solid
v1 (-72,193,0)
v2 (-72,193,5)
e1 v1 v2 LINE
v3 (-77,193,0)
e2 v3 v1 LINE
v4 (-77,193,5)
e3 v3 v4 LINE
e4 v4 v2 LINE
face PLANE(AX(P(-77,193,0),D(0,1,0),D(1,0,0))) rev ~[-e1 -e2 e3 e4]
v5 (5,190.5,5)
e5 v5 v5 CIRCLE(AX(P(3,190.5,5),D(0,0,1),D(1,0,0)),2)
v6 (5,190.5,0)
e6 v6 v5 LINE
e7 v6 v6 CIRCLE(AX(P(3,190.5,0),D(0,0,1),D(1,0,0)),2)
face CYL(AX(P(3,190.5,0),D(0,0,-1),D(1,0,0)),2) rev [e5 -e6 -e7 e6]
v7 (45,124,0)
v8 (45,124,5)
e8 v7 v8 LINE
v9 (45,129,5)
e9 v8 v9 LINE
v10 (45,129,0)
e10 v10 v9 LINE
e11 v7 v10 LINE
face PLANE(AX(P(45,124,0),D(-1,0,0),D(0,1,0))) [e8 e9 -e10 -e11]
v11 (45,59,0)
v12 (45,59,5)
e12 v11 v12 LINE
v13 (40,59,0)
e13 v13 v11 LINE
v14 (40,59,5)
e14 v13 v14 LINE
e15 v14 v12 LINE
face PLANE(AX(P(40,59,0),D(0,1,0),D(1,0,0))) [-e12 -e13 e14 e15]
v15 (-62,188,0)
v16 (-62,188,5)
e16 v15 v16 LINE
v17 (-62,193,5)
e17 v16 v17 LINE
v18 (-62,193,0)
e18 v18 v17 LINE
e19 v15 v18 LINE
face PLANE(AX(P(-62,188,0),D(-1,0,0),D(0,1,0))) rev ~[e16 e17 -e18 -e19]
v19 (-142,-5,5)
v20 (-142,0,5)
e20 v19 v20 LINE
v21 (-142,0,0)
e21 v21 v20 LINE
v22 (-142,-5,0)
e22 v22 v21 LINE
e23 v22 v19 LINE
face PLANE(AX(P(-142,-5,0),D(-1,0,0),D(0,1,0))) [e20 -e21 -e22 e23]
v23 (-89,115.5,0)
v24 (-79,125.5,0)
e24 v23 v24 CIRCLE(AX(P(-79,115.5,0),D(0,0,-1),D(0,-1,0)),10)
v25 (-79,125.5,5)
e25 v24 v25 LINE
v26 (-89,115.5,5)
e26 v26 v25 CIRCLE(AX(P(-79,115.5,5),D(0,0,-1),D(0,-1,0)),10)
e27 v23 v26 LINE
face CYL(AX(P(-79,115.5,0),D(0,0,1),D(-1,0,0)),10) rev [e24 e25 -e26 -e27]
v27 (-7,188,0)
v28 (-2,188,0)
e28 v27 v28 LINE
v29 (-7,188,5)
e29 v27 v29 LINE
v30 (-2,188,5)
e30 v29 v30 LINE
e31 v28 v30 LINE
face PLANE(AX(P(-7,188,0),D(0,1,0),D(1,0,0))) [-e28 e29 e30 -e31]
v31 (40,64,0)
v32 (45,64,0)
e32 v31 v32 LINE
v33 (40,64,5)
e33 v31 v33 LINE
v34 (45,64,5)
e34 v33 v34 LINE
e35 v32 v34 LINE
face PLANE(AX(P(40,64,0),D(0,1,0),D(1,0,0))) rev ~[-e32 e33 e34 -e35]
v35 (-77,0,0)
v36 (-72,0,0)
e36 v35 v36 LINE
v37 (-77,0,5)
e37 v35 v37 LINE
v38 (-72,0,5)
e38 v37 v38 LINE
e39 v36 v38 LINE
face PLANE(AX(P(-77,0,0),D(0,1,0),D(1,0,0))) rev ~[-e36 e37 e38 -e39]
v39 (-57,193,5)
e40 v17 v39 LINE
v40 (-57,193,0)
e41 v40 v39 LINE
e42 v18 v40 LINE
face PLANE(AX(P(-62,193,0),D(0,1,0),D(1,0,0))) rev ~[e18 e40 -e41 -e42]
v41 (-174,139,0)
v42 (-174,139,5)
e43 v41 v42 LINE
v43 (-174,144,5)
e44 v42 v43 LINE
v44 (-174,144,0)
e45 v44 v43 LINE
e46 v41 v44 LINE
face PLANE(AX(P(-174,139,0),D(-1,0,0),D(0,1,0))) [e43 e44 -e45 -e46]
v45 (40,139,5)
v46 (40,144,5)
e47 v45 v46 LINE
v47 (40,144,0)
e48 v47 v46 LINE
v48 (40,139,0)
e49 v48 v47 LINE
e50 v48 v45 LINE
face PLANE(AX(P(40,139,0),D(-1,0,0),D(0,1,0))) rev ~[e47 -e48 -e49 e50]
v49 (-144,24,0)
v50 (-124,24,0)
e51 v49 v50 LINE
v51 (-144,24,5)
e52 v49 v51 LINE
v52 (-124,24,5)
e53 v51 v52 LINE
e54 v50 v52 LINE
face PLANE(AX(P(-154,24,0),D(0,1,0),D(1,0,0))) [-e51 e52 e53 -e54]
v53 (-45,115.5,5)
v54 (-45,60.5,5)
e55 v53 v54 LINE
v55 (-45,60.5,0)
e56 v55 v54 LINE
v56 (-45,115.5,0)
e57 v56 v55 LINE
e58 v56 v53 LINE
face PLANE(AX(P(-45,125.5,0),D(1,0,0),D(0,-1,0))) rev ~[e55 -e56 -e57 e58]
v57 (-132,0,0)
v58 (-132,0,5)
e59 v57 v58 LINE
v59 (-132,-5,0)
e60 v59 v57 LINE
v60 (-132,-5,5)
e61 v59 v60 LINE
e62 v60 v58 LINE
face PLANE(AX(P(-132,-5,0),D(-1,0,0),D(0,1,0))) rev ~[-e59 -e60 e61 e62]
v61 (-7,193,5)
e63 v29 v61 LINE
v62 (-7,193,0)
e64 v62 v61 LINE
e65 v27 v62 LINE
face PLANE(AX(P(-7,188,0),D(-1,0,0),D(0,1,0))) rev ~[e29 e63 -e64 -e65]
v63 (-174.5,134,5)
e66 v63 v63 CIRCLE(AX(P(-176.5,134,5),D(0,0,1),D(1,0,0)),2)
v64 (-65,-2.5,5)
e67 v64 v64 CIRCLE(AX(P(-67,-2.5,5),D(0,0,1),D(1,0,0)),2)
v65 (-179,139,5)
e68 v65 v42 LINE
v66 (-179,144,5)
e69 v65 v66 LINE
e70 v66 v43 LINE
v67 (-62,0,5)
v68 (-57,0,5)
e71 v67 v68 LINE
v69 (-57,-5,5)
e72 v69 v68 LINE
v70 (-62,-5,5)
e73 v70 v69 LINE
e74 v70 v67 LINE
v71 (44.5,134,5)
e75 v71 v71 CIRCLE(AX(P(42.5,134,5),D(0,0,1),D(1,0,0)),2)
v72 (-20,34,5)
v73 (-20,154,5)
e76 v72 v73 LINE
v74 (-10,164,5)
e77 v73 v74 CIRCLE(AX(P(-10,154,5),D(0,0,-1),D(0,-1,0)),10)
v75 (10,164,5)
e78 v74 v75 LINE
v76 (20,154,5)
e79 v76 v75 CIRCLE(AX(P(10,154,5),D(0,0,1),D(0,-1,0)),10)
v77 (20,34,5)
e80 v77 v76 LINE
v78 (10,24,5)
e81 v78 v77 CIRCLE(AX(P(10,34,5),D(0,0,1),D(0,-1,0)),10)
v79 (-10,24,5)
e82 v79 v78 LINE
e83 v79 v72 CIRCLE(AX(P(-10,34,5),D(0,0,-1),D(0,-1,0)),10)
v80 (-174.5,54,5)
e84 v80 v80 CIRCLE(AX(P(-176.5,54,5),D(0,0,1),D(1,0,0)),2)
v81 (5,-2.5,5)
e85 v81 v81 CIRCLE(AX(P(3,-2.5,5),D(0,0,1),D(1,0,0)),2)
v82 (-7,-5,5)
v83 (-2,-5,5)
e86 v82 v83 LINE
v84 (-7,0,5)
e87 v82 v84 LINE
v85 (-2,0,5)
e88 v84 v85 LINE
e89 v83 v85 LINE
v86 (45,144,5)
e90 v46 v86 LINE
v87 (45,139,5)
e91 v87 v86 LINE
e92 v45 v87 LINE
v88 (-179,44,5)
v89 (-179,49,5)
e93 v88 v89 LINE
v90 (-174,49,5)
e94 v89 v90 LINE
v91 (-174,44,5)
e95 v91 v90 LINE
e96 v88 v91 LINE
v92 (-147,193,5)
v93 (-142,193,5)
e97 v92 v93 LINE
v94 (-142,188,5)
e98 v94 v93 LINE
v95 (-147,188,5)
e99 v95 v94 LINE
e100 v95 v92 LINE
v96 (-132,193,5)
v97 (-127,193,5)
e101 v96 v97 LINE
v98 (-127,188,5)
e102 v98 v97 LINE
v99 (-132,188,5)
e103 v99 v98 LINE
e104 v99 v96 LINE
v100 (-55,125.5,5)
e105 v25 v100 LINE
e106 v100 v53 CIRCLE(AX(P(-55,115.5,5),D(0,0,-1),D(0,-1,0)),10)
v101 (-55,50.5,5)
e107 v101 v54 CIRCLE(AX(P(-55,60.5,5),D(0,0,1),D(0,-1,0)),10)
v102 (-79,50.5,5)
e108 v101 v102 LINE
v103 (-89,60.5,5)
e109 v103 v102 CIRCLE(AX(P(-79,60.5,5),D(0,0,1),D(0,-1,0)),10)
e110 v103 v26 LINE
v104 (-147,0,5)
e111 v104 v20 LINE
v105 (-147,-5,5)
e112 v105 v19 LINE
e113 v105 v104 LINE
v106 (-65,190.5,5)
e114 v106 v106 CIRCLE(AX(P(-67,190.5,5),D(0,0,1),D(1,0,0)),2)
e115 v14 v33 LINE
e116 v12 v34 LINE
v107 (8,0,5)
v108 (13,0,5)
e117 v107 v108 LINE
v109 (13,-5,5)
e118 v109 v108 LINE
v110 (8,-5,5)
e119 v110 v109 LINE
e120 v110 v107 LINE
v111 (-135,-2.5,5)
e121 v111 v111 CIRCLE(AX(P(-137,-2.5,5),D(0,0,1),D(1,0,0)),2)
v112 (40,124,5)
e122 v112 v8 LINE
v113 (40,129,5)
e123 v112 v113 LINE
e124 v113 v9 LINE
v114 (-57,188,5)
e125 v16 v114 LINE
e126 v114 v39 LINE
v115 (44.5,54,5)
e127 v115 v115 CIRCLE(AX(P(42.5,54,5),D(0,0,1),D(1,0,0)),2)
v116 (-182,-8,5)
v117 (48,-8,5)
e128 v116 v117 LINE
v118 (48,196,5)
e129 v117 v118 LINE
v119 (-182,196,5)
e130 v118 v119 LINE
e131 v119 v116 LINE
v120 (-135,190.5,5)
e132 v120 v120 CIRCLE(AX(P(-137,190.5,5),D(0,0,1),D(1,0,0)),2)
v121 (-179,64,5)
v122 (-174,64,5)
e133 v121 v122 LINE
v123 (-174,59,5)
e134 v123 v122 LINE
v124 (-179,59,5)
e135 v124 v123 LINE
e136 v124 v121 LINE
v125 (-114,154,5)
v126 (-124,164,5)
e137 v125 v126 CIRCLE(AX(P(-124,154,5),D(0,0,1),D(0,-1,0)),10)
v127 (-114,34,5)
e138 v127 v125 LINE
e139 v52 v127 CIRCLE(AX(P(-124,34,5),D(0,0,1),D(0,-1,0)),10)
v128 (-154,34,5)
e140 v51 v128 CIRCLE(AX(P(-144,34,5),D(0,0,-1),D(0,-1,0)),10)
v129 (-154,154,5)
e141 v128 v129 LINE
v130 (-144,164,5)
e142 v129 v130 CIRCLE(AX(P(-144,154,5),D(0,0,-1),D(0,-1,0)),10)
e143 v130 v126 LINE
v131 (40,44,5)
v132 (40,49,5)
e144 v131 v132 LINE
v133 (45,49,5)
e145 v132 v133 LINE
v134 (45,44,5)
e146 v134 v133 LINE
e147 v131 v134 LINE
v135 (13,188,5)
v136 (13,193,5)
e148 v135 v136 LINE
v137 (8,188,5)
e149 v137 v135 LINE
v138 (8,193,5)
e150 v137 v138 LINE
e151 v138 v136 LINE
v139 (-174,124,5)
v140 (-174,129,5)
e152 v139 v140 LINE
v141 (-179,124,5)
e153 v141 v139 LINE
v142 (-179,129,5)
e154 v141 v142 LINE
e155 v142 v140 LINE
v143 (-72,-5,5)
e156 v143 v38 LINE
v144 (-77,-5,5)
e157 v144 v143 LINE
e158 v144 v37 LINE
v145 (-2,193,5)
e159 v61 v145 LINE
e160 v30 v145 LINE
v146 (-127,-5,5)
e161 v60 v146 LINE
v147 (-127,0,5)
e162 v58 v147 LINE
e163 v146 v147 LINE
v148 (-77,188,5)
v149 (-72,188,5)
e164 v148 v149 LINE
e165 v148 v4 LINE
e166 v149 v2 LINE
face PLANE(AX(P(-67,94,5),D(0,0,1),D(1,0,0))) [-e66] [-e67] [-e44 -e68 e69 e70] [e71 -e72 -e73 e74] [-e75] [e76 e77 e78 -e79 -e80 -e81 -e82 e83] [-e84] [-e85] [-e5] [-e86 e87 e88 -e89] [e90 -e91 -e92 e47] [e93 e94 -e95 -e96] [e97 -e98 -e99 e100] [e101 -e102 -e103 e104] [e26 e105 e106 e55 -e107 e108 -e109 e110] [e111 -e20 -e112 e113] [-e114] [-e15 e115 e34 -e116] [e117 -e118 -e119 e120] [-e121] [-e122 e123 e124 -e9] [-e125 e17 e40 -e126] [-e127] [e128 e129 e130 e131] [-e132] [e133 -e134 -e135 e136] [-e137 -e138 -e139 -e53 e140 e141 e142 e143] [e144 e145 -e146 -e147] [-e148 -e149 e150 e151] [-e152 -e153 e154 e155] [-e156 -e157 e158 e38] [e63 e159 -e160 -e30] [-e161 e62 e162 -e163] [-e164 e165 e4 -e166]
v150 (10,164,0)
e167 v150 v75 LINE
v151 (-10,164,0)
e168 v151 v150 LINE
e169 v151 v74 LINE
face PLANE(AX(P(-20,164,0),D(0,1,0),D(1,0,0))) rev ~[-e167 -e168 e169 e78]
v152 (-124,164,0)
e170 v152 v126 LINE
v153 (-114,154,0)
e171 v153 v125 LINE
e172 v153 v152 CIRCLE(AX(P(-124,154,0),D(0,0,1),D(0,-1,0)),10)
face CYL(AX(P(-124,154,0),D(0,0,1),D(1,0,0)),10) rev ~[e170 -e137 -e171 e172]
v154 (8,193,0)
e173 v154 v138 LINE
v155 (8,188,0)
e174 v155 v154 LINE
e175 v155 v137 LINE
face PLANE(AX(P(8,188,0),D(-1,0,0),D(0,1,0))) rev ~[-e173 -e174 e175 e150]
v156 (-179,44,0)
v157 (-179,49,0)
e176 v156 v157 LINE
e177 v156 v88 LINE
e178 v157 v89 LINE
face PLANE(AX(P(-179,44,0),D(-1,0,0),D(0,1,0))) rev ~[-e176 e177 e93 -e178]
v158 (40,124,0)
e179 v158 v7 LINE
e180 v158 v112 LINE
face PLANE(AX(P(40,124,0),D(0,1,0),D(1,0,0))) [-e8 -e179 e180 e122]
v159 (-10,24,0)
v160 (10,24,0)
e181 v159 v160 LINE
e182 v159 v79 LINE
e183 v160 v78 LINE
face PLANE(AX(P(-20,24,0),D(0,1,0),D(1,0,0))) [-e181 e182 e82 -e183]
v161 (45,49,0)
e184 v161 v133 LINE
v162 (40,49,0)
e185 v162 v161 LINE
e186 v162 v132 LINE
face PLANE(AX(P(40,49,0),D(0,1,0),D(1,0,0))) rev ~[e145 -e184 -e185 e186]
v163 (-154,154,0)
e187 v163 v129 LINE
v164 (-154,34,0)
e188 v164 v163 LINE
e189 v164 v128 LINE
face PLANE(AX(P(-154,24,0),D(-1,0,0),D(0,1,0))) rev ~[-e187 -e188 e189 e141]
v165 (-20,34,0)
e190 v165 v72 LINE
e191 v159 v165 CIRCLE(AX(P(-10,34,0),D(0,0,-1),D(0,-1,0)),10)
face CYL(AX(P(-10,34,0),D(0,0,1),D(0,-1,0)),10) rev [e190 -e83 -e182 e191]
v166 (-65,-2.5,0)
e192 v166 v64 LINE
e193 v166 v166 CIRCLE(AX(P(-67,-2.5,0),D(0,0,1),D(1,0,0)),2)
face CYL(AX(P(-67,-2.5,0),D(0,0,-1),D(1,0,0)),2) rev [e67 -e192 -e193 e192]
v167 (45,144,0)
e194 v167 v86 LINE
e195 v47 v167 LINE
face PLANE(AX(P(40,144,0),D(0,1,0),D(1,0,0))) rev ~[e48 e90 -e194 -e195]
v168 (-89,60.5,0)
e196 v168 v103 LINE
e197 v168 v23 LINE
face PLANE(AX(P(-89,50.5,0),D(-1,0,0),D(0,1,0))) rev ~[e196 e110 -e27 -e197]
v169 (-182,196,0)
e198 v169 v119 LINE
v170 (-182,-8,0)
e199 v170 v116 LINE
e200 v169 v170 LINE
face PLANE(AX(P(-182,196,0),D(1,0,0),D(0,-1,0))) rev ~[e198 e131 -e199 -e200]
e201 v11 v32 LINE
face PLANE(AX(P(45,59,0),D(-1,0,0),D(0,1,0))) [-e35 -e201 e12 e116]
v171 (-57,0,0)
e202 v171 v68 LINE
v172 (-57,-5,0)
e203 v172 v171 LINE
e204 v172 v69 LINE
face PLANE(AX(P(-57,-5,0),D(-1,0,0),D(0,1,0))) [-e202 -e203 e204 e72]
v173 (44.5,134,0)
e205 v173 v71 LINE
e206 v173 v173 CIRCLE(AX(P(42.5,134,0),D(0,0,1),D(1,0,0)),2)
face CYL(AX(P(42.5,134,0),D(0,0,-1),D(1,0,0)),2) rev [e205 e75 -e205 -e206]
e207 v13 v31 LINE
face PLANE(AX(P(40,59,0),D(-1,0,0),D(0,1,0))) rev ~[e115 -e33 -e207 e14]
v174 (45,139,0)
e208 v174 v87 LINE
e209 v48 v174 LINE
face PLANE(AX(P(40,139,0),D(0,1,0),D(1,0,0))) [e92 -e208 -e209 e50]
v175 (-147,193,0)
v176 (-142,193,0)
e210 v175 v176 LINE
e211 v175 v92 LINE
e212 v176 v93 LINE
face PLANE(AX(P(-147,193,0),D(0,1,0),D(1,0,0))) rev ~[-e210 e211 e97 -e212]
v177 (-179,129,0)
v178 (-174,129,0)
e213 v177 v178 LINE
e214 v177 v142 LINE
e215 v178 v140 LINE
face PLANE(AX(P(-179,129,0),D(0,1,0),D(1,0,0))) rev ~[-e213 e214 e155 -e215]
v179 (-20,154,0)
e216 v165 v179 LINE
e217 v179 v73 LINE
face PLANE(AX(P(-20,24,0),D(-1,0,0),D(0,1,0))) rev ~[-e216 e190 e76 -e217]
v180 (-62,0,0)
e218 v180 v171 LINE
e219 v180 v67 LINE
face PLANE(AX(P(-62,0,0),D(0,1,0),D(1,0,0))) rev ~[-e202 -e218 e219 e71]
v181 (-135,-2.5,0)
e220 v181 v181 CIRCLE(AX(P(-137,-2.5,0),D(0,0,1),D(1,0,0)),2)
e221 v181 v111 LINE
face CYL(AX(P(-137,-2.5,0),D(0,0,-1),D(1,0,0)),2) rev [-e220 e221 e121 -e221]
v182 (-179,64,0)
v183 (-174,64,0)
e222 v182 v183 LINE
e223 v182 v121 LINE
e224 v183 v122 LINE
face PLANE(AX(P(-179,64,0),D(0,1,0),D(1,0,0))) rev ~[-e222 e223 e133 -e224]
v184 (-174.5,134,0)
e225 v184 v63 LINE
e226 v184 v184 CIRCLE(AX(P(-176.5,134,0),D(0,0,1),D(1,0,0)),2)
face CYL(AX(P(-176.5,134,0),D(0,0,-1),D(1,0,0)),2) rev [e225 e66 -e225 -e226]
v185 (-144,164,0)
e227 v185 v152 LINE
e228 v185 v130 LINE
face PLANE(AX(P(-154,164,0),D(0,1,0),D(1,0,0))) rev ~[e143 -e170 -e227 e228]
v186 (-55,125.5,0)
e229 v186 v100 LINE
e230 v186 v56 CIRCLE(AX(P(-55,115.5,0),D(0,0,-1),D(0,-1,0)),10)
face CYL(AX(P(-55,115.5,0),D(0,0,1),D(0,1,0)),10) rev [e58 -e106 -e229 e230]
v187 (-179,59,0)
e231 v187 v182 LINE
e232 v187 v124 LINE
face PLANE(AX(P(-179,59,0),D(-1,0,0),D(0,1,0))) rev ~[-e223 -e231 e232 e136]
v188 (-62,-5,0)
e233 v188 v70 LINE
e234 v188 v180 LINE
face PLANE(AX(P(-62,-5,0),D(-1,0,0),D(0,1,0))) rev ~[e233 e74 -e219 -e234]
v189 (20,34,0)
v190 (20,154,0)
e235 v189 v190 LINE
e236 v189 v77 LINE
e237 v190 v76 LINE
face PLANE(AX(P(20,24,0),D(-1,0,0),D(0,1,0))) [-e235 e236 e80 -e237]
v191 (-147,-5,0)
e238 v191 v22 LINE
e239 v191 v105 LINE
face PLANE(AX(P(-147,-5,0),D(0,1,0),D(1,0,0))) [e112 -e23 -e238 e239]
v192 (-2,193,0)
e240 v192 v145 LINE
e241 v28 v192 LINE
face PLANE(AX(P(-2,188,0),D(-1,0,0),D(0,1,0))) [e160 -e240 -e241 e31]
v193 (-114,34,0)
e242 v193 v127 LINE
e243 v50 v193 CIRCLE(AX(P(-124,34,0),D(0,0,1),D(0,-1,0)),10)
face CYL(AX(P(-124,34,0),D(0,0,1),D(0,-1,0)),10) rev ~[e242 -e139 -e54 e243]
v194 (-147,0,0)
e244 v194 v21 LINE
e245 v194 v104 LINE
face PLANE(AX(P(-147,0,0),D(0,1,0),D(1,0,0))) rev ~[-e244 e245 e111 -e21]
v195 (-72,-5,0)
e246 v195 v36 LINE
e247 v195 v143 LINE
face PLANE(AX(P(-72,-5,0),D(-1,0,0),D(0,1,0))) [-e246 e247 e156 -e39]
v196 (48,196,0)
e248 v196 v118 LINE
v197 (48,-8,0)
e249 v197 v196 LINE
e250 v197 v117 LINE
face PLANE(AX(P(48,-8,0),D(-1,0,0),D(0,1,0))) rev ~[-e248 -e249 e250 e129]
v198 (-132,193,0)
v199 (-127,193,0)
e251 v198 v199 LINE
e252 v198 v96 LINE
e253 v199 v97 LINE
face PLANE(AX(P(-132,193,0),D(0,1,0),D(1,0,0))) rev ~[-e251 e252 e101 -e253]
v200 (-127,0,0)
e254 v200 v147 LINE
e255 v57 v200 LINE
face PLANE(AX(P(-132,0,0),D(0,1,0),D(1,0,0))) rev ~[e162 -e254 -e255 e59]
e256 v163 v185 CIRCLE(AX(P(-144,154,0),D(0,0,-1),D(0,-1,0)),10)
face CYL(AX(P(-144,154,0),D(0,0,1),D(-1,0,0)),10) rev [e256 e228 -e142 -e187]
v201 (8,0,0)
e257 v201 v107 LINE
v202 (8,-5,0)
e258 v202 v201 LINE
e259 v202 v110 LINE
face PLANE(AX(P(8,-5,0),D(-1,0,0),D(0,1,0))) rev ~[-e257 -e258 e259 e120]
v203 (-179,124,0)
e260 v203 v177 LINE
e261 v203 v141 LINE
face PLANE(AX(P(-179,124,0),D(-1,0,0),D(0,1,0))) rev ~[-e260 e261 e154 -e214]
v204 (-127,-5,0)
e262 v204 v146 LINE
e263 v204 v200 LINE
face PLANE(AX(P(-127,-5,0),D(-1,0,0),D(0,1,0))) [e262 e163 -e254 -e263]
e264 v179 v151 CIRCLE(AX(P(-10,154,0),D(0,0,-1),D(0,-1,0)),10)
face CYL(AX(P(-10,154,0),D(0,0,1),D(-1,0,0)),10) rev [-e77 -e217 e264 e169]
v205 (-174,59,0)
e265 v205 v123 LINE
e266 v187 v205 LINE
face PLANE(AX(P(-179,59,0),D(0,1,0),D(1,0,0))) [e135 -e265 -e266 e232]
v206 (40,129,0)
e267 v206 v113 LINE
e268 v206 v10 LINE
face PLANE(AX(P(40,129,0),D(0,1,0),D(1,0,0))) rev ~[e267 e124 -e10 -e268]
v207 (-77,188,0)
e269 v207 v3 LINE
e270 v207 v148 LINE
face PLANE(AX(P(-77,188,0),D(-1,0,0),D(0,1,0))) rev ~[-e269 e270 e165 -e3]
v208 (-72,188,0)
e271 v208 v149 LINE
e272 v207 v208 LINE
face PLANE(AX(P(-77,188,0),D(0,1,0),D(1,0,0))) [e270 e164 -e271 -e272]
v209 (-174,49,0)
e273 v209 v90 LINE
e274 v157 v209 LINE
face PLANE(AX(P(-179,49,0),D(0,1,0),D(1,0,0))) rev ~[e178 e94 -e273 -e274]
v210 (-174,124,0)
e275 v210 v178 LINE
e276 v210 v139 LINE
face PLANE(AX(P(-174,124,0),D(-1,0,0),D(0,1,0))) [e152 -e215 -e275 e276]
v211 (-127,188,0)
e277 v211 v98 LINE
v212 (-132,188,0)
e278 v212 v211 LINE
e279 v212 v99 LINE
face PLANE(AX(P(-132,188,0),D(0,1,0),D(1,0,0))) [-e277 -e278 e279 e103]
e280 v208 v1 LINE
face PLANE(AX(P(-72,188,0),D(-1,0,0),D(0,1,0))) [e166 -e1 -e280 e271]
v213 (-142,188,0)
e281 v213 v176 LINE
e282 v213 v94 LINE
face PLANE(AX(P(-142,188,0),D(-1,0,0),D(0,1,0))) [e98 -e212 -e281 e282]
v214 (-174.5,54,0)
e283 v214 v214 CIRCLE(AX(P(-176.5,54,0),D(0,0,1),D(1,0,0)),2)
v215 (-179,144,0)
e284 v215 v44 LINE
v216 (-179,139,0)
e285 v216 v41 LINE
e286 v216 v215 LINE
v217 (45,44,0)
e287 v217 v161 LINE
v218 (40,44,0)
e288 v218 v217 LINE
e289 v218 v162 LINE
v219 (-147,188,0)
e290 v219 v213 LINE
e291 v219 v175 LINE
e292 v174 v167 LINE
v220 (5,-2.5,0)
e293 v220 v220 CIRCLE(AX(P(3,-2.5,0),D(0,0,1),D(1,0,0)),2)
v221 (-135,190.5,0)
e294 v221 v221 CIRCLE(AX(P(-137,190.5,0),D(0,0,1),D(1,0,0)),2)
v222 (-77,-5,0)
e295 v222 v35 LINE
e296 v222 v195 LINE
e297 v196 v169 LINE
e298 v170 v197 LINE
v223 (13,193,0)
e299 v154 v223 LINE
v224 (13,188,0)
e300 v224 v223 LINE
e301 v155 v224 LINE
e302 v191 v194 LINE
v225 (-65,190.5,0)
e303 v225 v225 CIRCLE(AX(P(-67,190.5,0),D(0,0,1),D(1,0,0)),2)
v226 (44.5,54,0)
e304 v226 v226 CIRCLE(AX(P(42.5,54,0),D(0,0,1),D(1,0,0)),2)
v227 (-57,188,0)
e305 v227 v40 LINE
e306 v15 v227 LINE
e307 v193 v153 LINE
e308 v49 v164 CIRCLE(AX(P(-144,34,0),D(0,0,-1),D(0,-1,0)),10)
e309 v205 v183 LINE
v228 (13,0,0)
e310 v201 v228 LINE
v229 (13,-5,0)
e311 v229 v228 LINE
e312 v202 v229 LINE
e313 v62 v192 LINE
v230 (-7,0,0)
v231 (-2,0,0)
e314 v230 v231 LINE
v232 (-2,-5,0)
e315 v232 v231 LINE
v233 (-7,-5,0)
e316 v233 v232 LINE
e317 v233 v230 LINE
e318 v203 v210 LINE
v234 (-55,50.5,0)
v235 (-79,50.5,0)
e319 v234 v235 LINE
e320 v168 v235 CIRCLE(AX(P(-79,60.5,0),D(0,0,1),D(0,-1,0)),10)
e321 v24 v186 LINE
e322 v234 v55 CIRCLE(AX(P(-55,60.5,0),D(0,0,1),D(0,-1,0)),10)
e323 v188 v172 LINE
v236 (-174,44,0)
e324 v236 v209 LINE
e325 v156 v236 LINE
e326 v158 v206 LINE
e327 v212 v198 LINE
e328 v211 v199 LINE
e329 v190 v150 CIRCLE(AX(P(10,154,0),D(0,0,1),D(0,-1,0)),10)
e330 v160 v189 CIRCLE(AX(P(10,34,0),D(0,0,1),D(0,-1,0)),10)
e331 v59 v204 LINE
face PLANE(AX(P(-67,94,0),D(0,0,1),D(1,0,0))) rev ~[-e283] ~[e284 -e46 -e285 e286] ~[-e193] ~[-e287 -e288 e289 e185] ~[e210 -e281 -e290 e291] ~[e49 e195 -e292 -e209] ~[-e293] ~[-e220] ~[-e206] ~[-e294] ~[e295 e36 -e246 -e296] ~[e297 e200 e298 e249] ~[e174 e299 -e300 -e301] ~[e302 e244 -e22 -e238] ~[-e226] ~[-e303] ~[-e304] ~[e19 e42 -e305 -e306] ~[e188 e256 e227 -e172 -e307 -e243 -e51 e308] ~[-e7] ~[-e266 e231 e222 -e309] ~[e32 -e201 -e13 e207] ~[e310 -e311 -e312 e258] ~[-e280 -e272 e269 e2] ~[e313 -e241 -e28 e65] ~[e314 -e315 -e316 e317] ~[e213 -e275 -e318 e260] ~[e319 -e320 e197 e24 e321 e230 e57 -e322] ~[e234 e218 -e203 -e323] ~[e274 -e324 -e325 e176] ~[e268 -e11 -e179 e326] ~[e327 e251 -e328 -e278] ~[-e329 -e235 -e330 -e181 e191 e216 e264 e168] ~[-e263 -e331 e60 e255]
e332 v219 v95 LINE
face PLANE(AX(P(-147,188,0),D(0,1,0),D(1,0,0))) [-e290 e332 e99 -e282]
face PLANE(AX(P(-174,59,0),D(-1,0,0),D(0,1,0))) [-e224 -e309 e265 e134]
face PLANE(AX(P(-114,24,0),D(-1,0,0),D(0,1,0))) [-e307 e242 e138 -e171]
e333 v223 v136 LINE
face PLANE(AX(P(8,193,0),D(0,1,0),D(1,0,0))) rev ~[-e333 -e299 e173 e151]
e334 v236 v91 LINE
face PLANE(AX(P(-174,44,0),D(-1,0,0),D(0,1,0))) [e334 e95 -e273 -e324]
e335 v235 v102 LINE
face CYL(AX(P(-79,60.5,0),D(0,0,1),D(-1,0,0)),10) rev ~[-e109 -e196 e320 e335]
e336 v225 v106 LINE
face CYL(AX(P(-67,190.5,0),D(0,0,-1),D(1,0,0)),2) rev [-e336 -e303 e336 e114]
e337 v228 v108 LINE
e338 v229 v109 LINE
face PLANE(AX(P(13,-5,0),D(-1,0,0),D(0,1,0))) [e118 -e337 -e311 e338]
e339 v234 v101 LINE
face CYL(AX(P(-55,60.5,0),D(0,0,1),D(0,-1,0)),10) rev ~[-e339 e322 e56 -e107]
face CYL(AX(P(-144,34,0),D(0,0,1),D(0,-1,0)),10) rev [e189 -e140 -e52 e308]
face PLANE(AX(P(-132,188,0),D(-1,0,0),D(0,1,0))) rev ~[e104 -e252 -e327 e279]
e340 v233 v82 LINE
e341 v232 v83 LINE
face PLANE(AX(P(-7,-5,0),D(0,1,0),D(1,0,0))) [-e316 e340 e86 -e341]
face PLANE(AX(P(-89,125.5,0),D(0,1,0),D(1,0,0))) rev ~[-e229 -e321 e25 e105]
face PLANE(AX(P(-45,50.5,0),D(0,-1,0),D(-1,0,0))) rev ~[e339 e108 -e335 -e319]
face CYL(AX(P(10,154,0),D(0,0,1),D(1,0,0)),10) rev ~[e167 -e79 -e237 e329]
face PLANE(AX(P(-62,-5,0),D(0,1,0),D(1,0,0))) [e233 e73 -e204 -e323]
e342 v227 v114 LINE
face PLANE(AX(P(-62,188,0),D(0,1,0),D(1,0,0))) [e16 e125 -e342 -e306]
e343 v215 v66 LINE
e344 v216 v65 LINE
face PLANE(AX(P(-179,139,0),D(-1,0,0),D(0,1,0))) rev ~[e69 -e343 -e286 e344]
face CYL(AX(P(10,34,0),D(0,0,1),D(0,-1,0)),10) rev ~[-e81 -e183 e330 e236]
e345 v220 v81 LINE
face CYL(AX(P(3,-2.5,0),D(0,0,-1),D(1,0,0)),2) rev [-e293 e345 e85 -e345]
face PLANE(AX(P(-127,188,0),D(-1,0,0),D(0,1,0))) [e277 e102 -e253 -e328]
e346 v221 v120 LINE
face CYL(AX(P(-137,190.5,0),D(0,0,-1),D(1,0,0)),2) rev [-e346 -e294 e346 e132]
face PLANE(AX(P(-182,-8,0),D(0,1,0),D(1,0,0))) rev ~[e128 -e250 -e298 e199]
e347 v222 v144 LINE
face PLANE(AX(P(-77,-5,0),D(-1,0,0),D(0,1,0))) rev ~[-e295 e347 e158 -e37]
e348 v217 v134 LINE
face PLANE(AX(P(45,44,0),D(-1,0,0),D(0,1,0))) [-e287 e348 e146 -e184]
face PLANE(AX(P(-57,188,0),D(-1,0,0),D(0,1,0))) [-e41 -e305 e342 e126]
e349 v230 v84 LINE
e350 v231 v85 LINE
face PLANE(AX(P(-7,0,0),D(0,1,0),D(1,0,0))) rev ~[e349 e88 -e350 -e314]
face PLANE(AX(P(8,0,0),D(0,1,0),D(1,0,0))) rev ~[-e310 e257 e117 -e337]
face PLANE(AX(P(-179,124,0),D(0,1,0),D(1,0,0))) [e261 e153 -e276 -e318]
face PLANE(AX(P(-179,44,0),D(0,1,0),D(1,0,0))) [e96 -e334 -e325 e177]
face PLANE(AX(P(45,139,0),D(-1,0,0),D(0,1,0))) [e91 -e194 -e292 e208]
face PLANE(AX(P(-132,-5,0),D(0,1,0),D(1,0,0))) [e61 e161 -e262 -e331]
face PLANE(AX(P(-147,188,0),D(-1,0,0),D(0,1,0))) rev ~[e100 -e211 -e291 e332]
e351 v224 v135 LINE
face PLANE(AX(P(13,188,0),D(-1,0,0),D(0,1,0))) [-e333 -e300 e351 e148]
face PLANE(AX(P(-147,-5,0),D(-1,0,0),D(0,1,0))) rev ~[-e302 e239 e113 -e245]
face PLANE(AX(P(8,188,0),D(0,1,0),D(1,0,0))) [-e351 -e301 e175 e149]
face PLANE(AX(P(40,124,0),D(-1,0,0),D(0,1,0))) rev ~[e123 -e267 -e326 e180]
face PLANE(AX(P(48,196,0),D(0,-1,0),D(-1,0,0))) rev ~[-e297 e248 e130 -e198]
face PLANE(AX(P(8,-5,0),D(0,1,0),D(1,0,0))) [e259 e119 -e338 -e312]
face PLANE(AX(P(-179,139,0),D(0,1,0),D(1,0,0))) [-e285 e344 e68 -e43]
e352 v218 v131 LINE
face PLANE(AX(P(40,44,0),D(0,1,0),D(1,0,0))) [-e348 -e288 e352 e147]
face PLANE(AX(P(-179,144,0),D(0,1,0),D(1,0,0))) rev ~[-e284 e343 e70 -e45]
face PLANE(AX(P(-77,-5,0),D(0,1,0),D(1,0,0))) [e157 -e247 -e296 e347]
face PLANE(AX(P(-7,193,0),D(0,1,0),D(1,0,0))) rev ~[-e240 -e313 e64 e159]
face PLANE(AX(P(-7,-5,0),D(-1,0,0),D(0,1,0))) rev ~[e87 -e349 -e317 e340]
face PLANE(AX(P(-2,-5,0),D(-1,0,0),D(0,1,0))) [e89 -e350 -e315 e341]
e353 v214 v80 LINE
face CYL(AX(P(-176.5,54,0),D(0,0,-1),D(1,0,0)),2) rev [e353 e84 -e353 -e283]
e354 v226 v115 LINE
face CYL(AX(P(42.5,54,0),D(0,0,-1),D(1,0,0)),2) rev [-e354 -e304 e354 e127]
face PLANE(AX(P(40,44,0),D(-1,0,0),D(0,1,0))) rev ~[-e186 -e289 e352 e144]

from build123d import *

# Parameters (mm, degrees)
ESQUISSE1_W        = 5
ESQUISSE1_H        = 5
ESQUISSE1_R        = 2
ESQUISSE1_W_2      = 40
ESQUISSE1_H_2      = 140
BOSS_EXTRU_1_DEPTH = 5
CONG_1_R           = 10


with BuildPart() as part:
    # Esquisse1 → Boss.-Extru.1 (new body)
    with BuildSketch(Plane.XY):
        Polygon((-182, 196), (-182, 188), (-182, 0), (-182, -8), (48, -8), (48, 0), (48, 188), (48, 196), align=None)
        with Locations((-144.5, -2.5)):
            Rectangle(ESQUISSE1_W, ESQUISSE1_H, mode=Mode.SUBTRACT)
        with Locations((-137, -2.5)):
            Circle(ESQUISSE1_R, mode=Mode.SUBTRACT)
        with Locations((-129.5, -2.5)):
            Rectangle(ESQUISSE1_W, ESQUISSE1_H, mode=Mode.SUBTRACT)
        with Locations((-74.5, -2.5)):
            Rectangle(ESQUISSE1_W, ESQUISSE1_H, mode=Mode.SUBTRACT)
        with Locations((-67, -2.5)):
            Circle(ESQUISSE1_R, mode=Mode.SUBTRACT)
        with Locations((-59.5, -2.5)):
            Rectangle(ESQUISSE1_W, ESQUISSE1_H, mode=Mode.SUBTRACT)
        with Locations((-4.5, -2.5)):
            Rectangle(ESQUISSE1_W, ESQUISSE1_H, mode=Mode.SUBTRACT)
        with Locations((3, -2.5)):
            Circle(ESQUISSE1_R, mode=Mode.SUBTRACT)
        with Locations((10.5, -2.5)):
            Rectangle(ESQUISSE1_W, ESQUISSE1_H, mode=Mode.SUBTRACT)
        with Locations((-176.5, 46.5)):
            Rectangle(ESQUISSE1_W, ESQUISSE1_H, mode=Mode.SUBTRACT)
        with Locations((-176.5, 54)):
            Circle(ESQUISSE1_R, mode=Mode.SUBTRACT)
        with Locations((-176.5, 61.5)):
            Rectangle(ESQUISSE1_W, ESQUISSE1_H, mode=Mode.SUBTRACT)
        with Locations((-134, 94)):
            Rectangle(ESQUISSE1_W_2, ESQUISSE1_H_2, mode=Mode.SUBTRACT)
        with Locations((-176.5, 126.5)):
            Rectangle(ESQUISSE1_W, ESQUISSE1_H, mode=Mode.SUBTRACT)
        with Locations((-176.5, 134)):
            Circle(ESQUISSE1_R, mode=Mode.SUBTRACT)
        with Locations((-176.5, 141.5)):
            Rectangle(ESQUISSE1_W, ESQUISSE1_H, mode=Mode.SUBTRACT)
        with Locations((-144.5, 190.5)):
            Rectangle(ESQUISSE1_W, ESQUISSE1_H, mode=Mode.SUBTRACT)
        with Locations((-137, 190.5)):
            Circle(ESQUISSE1_R, mode=Mode.SUBTRACT)
        with Locations((-129.5, 190.5)):
            Rectangle(ESQUISSE1_W, ESQUISSE1_H, mode=Mode.SUBTRACT)
        with Locations((-74.5, 190.5)):
            Rectangle(ESQUISSE1_W, ESQUISSE1_H, mode=Mode.SUBTRACT)
        Polygon((-89, 125.5), (-45, 125.5), (-45, 50.5), (-67, 50.5), (-89, 50.5), align=None, mode=Mode.SUBTRACT)
        with Locations((42.5, 46.5)):
            Rectangle(ESQUISSE1_W, ESQUISSE1_H, mode=Mode.SUBTRACT)
        with Locations((0, 94)):
            Rectangle(ESQUISSE1_W_2, ESQUISSE1_H_2, mode=Mode.SUBTRACT)
        with Locations((42.5, 54)):
            Circle(ESQUISSE1_R, mode=Mode.SUBTRACT)
        with Locations((42.5, 61.5)):
            Rectangle(ESQUISSE1_W, ESQUISSE1_H, mode=Mode.SUBTRACT)
        with Locations((-67, 190.5)):
            Circle(ESQUISSE1_R, mode=Mode.SUBTRACT)
        with Locations((-59.5, 190.5)):
            Rectangle(ESQUISSE1_W, ESQUISSE1_H, mode=Mode.SUBTRACT)
        with Locations((42.5, 126.5)):
            Rectangle(ESQUISSE1_W, ESQUISSE1_H, mode=Mode.SUBTRACT)
        with Locations((42.5, 134)):
            Circle(ESQUISSE1_R, mode=Mode.SUBTRACT)
        with Locations((42.5, 141.5)):
            Rectangle(ESQUISSE1_W, ESQUISSE1_H, mode=Mode.SUBTRACT)
        with Locations((-4.5, 190.5)):
            Rectangle(ESQUISSE1_W, ESQUISSE1_H, mode=Mode.SUBTRACT)
        with Locations((3, 190.5)):
            Circle(ESQUISSE1_R, mode=Mode.SUBTRACT)
        with Locations((10.5, 190.5)):
            Rectangle(ESQUISSE1_W, ESQUISSE1_H, mode=Mode.SUBTRACT)
    extrude(amount=BOSS_EXTRU_1_DEPTH)

    # Congé1
    cong_1_edges = [part.edges().sort_by_distance(p)[0] for p in [
        (-154, 24, 2.5),
        (-114, 24, 2.5),
        (-114, 164, 2.5),
        (-154, 164, 2.5),
        (-20, 164, 2.5),
        (-20, 24, 2.5),
        (20, 24, 2.5),
        (20, 164, 2.5),
        (-45, 125.5, 2.5),
        (-89, 125.5, 2.5),
        (-89, 50.5, 2.5),
        (-45, 50.5, 2.5),
    ]]
    fillet(cong_1_edges, radius=CONG_1_R)


solid = part.part
